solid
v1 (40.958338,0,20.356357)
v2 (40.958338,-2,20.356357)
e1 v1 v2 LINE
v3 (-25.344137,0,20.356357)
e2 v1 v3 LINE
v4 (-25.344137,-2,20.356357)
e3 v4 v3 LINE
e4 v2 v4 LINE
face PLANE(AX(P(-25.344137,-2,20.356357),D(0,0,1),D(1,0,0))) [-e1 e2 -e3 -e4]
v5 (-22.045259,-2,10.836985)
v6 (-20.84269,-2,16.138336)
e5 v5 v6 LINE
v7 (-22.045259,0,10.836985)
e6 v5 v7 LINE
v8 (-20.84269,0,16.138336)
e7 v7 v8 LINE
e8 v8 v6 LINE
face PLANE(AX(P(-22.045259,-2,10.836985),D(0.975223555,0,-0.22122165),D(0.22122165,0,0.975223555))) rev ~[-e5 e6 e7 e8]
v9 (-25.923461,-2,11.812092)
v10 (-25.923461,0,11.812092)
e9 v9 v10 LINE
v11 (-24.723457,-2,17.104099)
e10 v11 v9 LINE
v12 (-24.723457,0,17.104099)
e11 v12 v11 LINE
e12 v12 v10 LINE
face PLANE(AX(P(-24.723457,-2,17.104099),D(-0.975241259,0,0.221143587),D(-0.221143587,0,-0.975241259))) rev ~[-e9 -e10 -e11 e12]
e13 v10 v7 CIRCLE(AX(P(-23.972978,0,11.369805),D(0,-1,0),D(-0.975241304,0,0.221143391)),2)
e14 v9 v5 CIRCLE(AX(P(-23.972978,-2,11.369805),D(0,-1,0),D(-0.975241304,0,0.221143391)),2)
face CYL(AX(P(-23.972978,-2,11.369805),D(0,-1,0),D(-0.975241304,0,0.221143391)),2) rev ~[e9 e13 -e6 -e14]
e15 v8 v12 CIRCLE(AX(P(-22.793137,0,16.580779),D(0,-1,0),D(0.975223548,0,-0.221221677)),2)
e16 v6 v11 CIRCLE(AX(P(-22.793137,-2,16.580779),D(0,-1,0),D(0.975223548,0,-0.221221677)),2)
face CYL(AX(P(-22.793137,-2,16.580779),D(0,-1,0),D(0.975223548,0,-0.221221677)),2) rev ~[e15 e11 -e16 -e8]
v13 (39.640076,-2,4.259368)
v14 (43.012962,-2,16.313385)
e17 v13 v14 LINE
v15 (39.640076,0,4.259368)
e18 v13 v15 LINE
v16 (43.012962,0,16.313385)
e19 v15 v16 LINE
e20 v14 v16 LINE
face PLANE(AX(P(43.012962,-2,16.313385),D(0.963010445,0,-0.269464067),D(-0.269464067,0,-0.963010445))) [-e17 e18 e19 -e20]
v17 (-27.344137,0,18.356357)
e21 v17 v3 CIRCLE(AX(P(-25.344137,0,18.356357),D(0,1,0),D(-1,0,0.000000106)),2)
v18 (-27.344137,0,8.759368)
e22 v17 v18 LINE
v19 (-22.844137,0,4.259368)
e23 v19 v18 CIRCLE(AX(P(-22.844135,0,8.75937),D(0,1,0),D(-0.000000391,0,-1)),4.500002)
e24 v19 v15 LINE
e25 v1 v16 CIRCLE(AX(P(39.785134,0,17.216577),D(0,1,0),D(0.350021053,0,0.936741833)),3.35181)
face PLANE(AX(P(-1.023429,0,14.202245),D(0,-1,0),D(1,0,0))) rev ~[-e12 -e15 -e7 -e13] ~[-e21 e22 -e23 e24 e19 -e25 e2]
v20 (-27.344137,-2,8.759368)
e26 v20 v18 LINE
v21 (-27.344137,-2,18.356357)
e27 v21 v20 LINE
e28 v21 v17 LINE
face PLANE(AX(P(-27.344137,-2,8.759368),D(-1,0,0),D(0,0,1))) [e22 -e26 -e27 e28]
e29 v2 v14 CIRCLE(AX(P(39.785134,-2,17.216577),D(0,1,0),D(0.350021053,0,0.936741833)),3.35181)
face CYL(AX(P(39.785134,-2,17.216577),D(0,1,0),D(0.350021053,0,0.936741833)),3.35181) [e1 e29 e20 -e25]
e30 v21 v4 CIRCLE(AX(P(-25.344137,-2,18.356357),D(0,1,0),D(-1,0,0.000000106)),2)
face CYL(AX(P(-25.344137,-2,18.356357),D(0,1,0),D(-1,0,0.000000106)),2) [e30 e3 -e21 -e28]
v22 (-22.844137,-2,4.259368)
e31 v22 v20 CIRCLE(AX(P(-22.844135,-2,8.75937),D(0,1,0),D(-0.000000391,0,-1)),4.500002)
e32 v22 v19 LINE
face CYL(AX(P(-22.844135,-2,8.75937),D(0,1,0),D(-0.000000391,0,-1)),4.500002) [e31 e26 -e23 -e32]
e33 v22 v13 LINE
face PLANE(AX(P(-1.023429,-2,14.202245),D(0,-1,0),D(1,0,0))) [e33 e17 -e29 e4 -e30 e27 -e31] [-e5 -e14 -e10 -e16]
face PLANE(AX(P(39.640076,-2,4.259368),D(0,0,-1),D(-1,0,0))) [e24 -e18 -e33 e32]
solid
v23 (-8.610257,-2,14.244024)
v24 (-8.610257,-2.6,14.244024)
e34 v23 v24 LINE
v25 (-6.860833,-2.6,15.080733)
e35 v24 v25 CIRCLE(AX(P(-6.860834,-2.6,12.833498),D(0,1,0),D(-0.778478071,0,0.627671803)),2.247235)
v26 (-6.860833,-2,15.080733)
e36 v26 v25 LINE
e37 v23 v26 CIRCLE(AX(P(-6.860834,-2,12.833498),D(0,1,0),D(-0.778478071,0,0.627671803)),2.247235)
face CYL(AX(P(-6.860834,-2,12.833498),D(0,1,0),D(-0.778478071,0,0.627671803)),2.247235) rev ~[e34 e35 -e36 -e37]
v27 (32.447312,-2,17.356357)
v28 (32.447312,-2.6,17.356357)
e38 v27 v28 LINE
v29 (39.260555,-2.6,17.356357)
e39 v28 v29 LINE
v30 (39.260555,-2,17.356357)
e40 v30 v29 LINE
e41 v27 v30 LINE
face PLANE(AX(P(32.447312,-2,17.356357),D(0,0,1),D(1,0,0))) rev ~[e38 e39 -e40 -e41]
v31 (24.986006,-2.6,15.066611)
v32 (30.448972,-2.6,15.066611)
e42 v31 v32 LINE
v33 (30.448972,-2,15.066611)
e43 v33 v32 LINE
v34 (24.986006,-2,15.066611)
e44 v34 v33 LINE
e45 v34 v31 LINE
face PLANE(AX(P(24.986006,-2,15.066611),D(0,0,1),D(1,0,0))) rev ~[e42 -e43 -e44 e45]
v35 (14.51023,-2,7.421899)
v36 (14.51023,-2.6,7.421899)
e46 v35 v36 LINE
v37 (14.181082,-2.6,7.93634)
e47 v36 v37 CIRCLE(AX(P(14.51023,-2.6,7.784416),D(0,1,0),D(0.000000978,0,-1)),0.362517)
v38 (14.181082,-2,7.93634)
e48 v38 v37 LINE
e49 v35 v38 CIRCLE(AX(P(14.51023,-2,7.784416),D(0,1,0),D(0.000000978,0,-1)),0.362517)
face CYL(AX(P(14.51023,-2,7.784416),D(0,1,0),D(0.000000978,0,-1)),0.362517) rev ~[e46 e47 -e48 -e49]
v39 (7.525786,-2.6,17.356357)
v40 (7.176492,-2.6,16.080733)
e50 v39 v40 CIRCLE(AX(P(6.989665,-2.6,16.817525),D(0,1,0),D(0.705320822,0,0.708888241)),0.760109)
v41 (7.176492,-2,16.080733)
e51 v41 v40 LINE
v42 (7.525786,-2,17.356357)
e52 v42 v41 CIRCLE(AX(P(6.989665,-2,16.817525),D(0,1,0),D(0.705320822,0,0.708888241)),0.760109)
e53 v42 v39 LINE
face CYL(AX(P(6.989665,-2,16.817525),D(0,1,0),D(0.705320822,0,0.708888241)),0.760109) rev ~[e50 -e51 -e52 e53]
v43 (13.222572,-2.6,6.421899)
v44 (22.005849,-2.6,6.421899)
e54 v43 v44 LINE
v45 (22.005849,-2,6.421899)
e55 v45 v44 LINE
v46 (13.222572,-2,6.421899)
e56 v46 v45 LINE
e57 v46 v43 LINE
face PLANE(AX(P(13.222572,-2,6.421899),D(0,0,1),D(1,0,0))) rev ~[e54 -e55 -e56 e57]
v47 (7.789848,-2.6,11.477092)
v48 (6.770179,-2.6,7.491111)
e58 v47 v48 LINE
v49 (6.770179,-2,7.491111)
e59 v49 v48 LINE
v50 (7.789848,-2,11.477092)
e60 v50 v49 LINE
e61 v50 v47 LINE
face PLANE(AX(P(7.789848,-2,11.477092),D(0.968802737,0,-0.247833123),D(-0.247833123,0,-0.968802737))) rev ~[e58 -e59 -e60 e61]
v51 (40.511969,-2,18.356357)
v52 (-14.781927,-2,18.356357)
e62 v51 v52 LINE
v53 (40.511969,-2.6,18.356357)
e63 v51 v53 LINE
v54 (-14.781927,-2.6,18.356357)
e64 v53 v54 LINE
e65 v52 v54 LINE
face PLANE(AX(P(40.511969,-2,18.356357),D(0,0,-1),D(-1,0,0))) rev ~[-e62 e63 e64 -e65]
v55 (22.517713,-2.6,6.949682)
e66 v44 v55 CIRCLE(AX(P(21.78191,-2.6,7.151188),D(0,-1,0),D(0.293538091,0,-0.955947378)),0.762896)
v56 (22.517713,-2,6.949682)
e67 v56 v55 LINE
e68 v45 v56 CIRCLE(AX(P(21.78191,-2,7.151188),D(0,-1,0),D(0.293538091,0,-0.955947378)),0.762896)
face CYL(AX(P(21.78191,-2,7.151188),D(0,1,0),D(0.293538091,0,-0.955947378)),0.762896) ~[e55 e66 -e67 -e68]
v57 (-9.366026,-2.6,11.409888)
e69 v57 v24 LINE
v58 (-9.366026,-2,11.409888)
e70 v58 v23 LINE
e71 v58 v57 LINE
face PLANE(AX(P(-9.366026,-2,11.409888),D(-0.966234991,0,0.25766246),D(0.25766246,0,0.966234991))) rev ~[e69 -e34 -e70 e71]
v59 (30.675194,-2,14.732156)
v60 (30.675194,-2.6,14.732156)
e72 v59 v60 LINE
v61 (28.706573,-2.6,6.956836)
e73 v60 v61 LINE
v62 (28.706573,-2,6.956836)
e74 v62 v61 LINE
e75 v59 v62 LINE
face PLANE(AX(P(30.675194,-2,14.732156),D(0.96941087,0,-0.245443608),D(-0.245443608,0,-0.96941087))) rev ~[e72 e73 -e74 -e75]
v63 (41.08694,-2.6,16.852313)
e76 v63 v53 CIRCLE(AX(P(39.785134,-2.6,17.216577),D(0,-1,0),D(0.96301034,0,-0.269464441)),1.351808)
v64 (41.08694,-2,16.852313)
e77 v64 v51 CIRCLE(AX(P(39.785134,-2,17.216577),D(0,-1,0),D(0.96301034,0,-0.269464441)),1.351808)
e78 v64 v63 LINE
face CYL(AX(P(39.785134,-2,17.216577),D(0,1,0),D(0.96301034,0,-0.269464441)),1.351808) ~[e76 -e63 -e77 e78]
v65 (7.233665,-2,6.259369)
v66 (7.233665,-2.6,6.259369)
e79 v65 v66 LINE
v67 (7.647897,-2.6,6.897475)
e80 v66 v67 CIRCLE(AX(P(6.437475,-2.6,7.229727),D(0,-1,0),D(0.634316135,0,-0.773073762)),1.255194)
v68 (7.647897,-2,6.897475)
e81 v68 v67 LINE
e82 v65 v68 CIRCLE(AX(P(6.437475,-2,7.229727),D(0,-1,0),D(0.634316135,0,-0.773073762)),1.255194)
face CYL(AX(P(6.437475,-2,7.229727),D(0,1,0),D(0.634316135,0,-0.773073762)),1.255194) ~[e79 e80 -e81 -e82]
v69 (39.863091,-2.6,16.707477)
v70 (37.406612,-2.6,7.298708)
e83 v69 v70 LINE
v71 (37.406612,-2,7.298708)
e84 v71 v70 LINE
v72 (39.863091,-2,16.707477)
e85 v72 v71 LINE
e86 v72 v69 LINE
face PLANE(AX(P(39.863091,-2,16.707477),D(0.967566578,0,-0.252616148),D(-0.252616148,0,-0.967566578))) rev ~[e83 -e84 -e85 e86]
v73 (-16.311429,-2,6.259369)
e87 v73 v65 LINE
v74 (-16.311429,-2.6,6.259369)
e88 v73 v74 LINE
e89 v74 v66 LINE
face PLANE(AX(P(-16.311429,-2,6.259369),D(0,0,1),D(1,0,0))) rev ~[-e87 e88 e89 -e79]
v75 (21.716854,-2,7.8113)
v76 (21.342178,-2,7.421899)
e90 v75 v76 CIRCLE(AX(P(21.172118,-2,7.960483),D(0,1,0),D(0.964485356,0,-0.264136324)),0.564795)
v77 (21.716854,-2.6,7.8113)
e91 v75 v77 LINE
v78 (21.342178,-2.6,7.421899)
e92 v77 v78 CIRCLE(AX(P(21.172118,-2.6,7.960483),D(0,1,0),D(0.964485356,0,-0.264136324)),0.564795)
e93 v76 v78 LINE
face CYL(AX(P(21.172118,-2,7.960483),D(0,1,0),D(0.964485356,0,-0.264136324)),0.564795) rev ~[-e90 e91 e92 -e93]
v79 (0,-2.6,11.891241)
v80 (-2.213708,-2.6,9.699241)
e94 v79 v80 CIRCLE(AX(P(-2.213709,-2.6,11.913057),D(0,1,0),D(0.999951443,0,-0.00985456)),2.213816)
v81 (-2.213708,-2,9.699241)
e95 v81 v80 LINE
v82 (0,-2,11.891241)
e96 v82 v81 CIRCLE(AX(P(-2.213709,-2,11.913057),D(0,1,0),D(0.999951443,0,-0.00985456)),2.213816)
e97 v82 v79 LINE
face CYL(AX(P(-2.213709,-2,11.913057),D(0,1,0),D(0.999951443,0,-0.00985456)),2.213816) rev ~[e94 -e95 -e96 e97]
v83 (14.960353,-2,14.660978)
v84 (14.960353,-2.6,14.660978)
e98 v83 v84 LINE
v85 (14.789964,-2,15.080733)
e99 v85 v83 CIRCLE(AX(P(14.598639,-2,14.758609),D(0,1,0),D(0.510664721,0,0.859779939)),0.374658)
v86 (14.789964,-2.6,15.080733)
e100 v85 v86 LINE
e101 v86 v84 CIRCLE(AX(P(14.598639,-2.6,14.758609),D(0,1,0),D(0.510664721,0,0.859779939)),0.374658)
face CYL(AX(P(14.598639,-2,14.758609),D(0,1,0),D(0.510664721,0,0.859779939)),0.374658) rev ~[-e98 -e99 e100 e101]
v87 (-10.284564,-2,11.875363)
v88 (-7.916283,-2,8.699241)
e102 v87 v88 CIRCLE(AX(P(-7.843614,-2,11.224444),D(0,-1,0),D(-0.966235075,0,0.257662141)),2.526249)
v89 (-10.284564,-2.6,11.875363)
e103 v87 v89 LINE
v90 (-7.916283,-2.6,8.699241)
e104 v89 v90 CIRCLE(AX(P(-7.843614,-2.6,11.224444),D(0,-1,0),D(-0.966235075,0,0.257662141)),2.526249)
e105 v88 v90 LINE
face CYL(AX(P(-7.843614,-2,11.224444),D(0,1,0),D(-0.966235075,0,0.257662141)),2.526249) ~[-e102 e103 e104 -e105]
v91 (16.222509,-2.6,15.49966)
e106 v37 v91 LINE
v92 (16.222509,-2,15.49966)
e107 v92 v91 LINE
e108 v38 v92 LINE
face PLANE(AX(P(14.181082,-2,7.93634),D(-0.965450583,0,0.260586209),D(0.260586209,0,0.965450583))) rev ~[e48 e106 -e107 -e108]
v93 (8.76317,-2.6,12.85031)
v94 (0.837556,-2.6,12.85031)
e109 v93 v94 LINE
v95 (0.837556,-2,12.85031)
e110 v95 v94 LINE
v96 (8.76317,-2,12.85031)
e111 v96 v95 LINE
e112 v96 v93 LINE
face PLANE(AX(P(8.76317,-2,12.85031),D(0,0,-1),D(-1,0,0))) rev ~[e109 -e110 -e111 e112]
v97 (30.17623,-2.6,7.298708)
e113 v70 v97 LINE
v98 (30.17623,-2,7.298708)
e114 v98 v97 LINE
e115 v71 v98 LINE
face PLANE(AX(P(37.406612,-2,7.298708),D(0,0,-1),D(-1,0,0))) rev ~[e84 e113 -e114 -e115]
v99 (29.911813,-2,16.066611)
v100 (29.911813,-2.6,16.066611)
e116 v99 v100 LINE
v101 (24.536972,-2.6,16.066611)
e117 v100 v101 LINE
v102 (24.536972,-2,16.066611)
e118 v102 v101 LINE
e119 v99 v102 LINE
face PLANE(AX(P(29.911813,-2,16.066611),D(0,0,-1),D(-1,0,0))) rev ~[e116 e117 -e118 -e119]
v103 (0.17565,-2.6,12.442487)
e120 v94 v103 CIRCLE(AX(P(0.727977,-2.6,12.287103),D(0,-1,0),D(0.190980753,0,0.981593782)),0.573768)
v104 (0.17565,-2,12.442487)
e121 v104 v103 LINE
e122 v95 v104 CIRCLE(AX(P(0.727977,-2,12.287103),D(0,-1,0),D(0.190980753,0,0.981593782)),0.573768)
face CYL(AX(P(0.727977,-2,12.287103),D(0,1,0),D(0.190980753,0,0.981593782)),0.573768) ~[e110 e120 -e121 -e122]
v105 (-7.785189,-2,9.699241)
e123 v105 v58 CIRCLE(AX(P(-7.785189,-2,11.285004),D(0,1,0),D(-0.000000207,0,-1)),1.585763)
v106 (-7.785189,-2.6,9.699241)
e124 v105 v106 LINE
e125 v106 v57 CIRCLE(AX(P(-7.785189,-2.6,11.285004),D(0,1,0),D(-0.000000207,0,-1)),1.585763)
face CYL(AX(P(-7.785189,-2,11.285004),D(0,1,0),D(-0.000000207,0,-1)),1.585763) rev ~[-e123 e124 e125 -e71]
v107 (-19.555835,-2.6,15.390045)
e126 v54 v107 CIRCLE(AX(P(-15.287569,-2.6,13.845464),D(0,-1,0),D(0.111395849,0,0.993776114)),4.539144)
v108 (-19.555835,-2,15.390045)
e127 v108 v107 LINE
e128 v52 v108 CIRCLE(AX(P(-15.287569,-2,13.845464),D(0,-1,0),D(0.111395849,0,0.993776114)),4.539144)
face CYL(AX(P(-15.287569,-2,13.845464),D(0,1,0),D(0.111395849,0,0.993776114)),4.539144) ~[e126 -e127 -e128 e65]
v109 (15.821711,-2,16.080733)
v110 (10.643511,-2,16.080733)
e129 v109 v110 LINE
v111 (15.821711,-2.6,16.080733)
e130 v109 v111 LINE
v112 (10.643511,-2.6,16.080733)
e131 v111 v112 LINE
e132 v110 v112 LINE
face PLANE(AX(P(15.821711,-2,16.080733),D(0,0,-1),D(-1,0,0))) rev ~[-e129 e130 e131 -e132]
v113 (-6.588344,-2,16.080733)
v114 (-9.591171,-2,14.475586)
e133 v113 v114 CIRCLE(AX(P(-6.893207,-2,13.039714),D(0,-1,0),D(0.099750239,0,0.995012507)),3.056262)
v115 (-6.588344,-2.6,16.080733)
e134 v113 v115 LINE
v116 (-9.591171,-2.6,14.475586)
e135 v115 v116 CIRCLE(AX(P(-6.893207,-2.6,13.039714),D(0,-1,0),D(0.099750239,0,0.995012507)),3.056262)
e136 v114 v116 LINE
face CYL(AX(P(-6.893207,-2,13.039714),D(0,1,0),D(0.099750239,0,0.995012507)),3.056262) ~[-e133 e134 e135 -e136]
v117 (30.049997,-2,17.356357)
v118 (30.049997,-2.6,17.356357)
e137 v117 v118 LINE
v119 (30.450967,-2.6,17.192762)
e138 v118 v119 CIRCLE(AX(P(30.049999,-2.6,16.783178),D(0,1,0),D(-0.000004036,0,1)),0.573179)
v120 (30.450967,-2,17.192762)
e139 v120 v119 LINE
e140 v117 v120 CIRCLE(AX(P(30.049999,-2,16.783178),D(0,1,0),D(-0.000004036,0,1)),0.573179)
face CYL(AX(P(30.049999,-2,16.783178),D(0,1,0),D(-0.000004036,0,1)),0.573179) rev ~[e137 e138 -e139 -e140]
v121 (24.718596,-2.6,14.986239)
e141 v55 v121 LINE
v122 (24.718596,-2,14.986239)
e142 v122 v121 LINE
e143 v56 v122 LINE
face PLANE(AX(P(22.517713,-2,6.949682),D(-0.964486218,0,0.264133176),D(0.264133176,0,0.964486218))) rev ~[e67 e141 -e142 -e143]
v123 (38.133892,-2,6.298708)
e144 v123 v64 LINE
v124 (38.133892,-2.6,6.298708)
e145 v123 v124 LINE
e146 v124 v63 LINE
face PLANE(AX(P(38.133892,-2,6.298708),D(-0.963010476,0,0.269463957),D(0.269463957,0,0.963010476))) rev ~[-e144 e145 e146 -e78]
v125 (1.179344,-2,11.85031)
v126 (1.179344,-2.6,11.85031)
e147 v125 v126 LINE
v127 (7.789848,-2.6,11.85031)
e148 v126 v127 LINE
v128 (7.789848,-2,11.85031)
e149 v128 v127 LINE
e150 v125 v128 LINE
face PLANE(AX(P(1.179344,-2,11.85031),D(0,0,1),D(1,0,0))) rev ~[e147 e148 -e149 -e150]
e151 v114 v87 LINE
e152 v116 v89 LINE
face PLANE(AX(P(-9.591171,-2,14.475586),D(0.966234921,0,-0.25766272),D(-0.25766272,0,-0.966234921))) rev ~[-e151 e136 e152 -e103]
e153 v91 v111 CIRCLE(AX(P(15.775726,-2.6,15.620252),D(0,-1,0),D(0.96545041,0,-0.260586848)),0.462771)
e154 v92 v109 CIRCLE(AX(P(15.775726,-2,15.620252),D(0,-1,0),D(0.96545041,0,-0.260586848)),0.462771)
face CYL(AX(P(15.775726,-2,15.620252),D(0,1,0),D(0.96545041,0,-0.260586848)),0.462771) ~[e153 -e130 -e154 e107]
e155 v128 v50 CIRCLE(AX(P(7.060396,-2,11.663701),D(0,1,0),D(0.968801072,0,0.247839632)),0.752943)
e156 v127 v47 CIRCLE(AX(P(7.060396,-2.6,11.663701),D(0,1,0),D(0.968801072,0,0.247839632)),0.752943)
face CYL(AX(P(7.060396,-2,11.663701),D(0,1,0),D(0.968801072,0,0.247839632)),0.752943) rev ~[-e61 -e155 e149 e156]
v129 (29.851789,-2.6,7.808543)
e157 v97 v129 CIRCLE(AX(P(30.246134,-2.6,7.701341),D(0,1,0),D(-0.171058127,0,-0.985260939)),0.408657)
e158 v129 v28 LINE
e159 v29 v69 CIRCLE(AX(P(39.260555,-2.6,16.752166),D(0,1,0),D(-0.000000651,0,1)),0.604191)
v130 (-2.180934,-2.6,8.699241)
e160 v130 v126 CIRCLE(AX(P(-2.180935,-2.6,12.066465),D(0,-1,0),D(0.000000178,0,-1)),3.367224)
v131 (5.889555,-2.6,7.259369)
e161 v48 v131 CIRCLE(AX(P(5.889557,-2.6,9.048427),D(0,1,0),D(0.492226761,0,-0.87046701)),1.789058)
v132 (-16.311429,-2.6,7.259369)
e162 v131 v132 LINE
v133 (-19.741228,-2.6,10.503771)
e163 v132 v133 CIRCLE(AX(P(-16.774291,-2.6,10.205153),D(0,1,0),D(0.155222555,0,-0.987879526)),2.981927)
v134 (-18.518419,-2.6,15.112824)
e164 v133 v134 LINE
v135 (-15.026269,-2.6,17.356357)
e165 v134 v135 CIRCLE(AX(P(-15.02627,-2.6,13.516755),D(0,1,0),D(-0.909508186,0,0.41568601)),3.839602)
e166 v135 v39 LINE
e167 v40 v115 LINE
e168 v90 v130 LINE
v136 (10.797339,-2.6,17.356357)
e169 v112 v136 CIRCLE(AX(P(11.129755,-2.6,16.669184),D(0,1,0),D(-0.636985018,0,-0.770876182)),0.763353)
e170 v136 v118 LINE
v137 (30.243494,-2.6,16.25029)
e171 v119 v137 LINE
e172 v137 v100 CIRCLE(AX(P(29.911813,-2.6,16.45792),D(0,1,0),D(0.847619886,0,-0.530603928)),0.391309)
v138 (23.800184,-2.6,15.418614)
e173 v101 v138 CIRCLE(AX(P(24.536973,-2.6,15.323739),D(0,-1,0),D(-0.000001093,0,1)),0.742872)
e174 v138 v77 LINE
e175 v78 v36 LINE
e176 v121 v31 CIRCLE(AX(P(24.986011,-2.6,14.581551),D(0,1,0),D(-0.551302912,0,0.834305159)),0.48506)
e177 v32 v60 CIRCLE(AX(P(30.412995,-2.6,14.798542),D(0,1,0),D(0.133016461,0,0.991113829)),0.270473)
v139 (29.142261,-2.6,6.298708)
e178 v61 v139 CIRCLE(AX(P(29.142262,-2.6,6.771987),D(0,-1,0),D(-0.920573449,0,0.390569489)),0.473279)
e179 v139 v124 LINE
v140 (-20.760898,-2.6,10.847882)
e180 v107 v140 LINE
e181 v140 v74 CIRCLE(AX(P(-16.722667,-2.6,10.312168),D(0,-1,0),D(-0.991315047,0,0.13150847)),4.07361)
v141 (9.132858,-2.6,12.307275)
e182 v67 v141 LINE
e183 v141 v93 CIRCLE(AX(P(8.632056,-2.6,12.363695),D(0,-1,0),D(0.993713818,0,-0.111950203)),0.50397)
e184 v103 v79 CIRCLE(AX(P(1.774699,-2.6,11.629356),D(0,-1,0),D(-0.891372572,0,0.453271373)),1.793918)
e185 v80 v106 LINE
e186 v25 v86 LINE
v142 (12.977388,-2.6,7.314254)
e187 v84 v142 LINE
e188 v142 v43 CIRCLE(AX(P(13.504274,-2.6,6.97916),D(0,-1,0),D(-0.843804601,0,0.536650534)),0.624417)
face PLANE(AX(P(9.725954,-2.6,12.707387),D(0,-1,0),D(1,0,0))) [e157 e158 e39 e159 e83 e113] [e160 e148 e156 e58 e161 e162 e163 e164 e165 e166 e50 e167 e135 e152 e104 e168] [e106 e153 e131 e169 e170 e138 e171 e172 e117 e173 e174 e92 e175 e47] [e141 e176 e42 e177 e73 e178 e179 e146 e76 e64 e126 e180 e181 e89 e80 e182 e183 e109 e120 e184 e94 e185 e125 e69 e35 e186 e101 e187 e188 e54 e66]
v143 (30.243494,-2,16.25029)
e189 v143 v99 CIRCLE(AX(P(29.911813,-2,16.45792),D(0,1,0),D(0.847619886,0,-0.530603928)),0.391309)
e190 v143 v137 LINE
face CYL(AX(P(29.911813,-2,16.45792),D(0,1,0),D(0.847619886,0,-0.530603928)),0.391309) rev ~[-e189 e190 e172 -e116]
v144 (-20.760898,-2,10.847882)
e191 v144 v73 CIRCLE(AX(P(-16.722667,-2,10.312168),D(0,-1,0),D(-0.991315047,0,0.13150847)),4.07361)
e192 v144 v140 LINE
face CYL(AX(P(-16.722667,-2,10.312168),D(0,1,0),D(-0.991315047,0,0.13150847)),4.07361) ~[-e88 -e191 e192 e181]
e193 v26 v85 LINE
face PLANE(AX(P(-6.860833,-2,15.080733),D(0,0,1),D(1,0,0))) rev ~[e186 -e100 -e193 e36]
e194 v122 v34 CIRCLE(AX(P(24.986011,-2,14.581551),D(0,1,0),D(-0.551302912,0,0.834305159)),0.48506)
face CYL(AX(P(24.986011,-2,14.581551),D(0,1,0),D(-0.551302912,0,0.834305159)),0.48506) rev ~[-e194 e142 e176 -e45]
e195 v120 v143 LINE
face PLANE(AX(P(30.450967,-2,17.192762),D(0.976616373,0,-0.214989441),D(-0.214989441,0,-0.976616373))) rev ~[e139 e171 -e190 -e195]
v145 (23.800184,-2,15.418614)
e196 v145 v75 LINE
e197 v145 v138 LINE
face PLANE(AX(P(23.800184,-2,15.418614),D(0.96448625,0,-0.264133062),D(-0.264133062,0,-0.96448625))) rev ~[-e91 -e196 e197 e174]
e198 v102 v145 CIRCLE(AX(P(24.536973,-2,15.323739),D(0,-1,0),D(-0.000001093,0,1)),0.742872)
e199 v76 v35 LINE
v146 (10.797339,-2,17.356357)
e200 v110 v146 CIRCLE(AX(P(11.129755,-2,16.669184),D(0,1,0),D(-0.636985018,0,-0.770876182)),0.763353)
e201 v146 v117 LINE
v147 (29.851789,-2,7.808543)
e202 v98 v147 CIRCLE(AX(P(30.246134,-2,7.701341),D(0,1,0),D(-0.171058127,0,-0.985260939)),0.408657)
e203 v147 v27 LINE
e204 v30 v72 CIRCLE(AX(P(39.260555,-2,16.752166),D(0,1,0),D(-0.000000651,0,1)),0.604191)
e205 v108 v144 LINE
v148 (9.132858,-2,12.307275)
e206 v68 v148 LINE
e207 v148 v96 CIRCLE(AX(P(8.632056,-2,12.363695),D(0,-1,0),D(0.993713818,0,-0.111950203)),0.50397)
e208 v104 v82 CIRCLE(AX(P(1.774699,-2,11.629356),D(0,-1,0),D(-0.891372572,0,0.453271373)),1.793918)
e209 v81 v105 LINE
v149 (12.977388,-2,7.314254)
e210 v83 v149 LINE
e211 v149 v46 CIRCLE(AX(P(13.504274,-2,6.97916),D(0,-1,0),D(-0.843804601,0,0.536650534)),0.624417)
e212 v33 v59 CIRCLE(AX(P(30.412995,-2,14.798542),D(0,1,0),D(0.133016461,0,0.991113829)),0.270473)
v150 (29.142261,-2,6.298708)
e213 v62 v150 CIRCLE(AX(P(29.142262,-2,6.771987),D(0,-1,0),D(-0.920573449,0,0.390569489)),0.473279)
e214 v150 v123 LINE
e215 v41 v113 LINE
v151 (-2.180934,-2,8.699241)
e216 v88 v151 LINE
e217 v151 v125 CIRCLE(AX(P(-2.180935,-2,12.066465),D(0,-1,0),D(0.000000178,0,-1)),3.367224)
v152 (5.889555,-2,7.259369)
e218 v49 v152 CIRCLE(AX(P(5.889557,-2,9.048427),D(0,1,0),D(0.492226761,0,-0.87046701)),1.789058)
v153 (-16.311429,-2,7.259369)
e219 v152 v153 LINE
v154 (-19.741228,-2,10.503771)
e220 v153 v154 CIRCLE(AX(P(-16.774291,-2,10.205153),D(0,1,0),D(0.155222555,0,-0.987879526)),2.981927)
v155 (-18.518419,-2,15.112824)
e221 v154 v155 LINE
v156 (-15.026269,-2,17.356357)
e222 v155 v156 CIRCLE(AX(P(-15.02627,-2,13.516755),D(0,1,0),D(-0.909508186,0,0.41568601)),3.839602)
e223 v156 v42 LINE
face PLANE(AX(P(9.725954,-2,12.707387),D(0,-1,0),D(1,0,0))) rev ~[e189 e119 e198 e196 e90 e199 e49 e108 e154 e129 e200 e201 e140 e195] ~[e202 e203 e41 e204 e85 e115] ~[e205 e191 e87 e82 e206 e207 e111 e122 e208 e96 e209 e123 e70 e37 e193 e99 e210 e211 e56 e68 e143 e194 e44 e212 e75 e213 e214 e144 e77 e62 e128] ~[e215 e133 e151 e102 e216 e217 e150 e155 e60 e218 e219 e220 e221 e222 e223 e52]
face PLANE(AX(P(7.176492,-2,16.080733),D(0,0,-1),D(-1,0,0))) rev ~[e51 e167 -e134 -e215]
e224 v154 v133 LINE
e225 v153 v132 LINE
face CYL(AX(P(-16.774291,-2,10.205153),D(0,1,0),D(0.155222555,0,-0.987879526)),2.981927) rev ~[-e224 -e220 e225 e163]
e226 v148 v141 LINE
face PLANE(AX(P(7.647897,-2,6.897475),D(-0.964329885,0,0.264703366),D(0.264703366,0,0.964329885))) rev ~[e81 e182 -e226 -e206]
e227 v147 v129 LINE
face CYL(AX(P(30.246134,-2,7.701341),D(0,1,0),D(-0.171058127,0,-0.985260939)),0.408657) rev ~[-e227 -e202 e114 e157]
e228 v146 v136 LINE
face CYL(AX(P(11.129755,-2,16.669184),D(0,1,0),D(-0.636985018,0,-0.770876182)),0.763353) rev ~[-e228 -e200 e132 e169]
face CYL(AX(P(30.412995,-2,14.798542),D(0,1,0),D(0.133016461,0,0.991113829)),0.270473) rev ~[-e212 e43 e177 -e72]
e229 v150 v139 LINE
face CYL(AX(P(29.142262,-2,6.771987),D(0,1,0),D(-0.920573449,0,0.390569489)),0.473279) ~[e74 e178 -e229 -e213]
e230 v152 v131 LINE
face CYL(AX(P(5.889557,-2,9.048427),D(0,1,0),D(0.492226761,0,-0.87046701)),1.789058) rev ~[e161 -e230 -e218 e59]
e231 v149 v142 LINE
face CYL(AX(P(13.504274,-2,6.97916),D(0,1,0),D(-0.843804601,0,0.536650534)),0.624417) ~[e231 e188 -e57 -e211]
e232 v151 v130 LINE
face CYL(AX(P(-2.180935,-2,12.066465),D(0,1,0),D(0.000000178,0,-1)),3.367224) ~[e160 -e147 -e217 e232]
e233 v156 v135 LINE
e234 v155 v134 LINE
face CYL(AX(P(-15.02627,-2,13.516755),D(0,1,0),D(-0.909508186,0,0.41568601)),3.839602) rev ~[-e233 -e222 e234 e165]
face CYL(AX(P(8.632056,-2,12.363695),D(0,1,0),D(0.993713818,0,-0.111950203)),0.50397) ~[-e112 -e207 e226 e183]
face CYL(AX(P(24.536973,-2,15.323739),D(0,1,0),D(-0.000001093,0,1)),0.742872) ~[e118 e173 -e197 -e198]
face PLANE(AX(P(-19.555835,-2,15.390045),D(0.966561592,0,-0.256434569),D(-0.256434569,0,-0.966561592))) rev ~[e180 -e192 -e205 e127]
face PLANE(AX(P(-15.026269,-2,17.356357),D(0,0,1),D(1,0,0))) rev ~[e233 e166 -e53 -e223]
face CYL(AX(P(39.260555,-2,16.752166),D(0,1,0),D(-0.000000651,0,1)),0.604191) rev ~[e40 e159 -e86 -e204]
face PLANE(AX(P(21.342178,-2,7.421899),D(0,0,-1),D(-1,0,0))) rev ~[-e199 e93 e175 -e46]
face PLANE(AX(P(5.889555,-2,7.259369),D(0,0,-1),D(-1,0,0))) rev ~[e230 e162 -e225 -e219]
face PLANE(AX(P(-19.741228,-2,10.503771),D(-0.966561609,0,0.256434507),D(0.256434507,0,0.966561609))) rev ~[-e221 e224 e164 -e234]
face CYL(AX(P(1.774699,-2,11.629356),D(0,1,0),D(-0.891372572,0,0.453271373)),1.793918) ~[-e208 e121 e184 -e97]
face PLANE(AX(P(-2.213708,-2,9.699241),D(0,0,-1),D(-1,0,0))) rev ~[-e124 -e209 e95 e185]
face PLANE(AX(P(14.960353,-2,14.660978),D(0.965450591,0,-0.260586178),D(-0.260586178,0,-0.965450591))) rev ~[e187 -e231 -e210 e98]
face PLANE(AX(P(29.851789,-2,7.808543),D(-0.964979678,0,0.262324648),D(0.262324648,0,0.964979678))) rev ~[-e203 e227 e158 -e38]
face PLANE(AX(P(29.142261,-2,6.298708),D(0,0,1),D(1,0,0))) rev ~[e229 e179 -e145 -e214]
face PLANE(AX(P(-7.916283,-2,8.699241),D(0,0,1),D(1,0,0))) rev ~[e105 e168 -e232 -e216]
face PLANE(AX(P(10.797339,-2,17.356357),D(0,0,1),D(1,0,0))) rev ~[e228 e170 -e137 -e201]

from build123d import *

# Parameters (mm, degrees)
F0_W     = 90
F0_H     = 20
F1_DEPTH = 2
F3_DEPTH = 0.6
F4_W     = 90
F4_H     = 20
F5_DEPTH = 12.5


with BuildPart() as f1:
    # F0 (on Front) → F1 (new body)
    with BuildSketch(Plane.XZ):
        with Locations((-1.023429, 14.202245)):
            Rectangle(F0_W, F0_H)
    extrude(amount=F1_DEPTH)

    # F4 (on face) → F5 (cut, symmetric)
    with BuildSketch(Plane.XZ.offset(2)):
        with Locations((-1.023429, 14.202245)):
            Rectangle(F4_W, F4_H)
        with BuildLine():
            ThreePointArc((40.958338, 20.356357), (42.773223, 18.735113), (43.012962, 16.313385))
            Line((43.012962, 16.313385), (39.640076, 4.259368))
            Line((39.640076, 4.259368), (-22.844137, 4.259368))
            ThreePointArc((-22.844137, 4.259368), (-26.026117, 5.577388), (-27.344137, 8.759368))
            Line((-27.344137, 8.759368), (-27.344137, 18.356357))
            ThreePointArc((-27.344137, 18.356357), (-26.75835, 19.770571), (-25.344137, 20.356357))
            Line((-25.344137, 20.356357), (40.958338, 20.356357))
        make_face(mode=Mode.SUBTRACT)
        with BuildLine():
            Line((-22.045259, 10.836985), (-20.84269, 16.138336))
            ThreePointArc((-20.84269, 16.138336), (-22.31015, 18.521584), (-24.723457, 17.104099))
            Line((-24.723457, 17.104099), (-25.923461, 11.812092))
            ThreePointArc((-25.923461, 11.812092), (-24.460665, 9.430176), (-22.045259, 10.836985))
        make_face()
    extrude(amount=F5_DEPTH, both=True, mode=Mode.SUBTRACT)


with BuildPart() as f3:
    # F2 (on face) → F3 (new body)
    with BuildSketch(Plane.XZ.offset(2)):
        with BuildLine():
            Line((40.511969, 18.356357), (-14.781927, 18.356357))
            ThreePointArc((-14.781927, 18.356357), (-17.683208, 17.700946), (-19.555835, 15.390045))
            Line((-19.555835, 15.390045), (-20.760898, 10.847882))
            ThreePointArc((-20.760898, 10.847882), (-19.647113, 7.476341), (-16.311429, 6.259369))
            Line((-16.311429, 6.259369), (7.233665, 6.259369))
            ThreePointArc((7.233665, 6.259369), (7.490289, 6.546283), (7.647897, 6.897475))
            Line((7.647897, 6.897475), (9.132858, 12.307275))
            ThreePointArc((9.132858, 12.307275), (9.048651, 12.647304), (8.76317, 12.85031))
            Line((8.76317, 12.85031), (0.837556, 12.85031))
            ThreePointArc((0.837556, 12.85031), (0.427002, 12.775594), (0.17565, 12.442487))
            ThreePointArc((0.17565, 12.442487), (0.065456, 12.173992), (0, 11.891241))
            ThreePointArc((0, 11.891241), (-0.656036, 10.339959), (-2.213708, 9.699241))
            Line((-2.213708, 9.699241), (-7.785189, 9.699241))
            ThreePointArc((-7.785189, 9.699241), (-8.949809, 10.208759), (-9.366026, 11.409888))
            Line((-9.366026, 11.409888), (-8.610257, 14.244024))
            ThreePointArc((-8.610257, 14.244024), (-7.830442, 14.860793), (-6.860833, 15.080733))
            Line((-6.860833, 15.080733), (14.789964, 15.080733))
            ThreePointArc((14.789964, 15.080733), (14.945787, 14.899525), (14.960353, 14.660978))
            Line((14.960353, 14.660978), (12.977388, 7.314254))
            ThreePointArc((12.977388, 7.314254), (12.902171, 6.813726), (13.222572, 6.421899))
            Line((13.222572, 6.421899), (22.005849, 6.421899))
            ThreePointArc((22.005849, 6.421899), (22.329555, 6.620061), (22.517713, 6.949682))
            Line((22.517713, 6.949682), (24.718596, 14.986239))
            ThreePointArc((24.718596, 14.986239), (24.846393, 15.046083), (24.986006, 15.066611))
            Line((24.986006, 15.066611), (30.173999, 15.066611))
            Line((30.173999, 15.066611), (30.448972, 15.066611))
            ThreePointArc((30.448972, 15.066611), (30.637031, 14.950078), (30.675194, 14.732156))
            Line((30.675194, 14.732156), (28.706573, 6.956836))
            ThreePointArc((28.706573, 6.956836), (28.747623, 6.510733), (29.142261, 6.298708))
            Line((29.142261, 6.298708), (38.133892, 6.298708))
            Line((38.133892, 6.298708), (41.08694, 16.852313))
            ThreePointArc((41.08694, 16.852313), (41.047823, 17.699282), (40.511969, 18.356357))
        make_face()
        with BuildLine():
            Line((-19.741228, 10.503771), (-18.518419, 15.112824))
            ThreePointArc((-18.518419, 15.112824), (-17.101634, 16.747143), (-15.026269, 17.356357))
            Line((-15.026269, 17.356357), (7.525786, 17.356357))
            ThreePointArc((7.525786, 17.356357), (7.722787, 16.61678), (7.176492, 16.080733))
            Line((7.176492, 16.080733), (-6.588344, 16.080733))
            ThreePointArc((-6.588344, 16.080733), (-8.333991, 15.735058), (-9.591171, 14.475586))
            Line((-9.591171, 14.475586), (-10.284564, 11.875363))
            ThreePointArc((-10.284564, 11.875363), (-9.868832, 9.714337), (-7.916283, 8.699241))
            Line((-7.916283, 8.699241), (-2.180934, 8.699241))
            ThreePointArc((-2.180934, 8.699241), (0.122362, 9.610244), (1.179344, 11.85031))
            Line((1.179344, 11.85031), (7.789848, 11.85031))
            ThreePointArc((7.789848, 11.85031), (7.813339, 11.663701), (7.789848, 11.477092))
            Line((7.789848, 11.477092), (6.770179, 7.491111))
            ThreePointArc((6.770179, 7.491111), (6.344858, 7.318274), (5.889555, 7.259369))
            Line((5.889555, 7.259369), (-16.311429, 7.259369))
            ThreePointArc((-16.311429, 7.259369), (-18.82347, 8.038877), (-19.741228, 10.503771))
        make_face(mode=Mode.SUBTRACT)
        with BuildLine():
            ThreePointArc((10.643511, 16.080733), (10.371893, 16.760575), (10.797339, 17.356357))
            Line((10.797339, 17.356357), (30.049997, 17.356357))
            ThreePointArc((30.049997, 17.356357), (30.266527, 17.313885), (30.450967, 17.192762))
            Line((30.450967, 17.192762), (30.243494, 16.25029))
            ThreePointArc((30.243494, 16.25029), (30.101385, 16.115597), (29.911813, 16.066611))
            Line((29.911813, 16.066611), (24.536972, 16.066611))
            ThreePointArc((24.536972, 16.066611), (24.046371, 15.881564), (23.800184, 15.418614))
            Line((23.800184, 15.418614), (21.716854, 7.8113))
            ThreePointArc((21.716854, 7.8113), (21.579109, 7.568882), (21.342178, 7.421899))
            Line((21.342178, 7.421899), (14.51023, 7.421899))
            ThreePointArc((14.51023, 7.421899), (14.204866, 7.58904), (14.181082, 7.93634))
            Line((14.181082, 7.93634), (16.222509, 15.49966))
            ThreePointArc((16.222509, 15.49966), (16.156668, 15.883008), (15.821711, 16.080733))
            Line((15.821711, 16.080733), (10.643511, 16.080733))
        make_face(mode=Mode.SUBTRACT)
        with BuildLine():
            Line((29.851789, 7.808543), (32.447312, 17.356357))
            Line((32.447312, 17.356357), (39.260555, 17.356357))
            ThreePointArc((39.260555, 17.356357), (39.703301, 17.16329), (39.863091, 16.707477))
            Line((39.863091, 16.707477), (37.406612, 7.298708))
            Line((37.406612, 7.298708), (30.17623, 7.298708))
            ThreePointArc((30.17623, 7.298708), (29.901366, 7.481944), (29.851789, 7.808543))
        make_face(mode=Mode.SUBTRACT)
    extrude(amount=F3_DEPTH)


solid = Compound([f1.part, f3.part])
